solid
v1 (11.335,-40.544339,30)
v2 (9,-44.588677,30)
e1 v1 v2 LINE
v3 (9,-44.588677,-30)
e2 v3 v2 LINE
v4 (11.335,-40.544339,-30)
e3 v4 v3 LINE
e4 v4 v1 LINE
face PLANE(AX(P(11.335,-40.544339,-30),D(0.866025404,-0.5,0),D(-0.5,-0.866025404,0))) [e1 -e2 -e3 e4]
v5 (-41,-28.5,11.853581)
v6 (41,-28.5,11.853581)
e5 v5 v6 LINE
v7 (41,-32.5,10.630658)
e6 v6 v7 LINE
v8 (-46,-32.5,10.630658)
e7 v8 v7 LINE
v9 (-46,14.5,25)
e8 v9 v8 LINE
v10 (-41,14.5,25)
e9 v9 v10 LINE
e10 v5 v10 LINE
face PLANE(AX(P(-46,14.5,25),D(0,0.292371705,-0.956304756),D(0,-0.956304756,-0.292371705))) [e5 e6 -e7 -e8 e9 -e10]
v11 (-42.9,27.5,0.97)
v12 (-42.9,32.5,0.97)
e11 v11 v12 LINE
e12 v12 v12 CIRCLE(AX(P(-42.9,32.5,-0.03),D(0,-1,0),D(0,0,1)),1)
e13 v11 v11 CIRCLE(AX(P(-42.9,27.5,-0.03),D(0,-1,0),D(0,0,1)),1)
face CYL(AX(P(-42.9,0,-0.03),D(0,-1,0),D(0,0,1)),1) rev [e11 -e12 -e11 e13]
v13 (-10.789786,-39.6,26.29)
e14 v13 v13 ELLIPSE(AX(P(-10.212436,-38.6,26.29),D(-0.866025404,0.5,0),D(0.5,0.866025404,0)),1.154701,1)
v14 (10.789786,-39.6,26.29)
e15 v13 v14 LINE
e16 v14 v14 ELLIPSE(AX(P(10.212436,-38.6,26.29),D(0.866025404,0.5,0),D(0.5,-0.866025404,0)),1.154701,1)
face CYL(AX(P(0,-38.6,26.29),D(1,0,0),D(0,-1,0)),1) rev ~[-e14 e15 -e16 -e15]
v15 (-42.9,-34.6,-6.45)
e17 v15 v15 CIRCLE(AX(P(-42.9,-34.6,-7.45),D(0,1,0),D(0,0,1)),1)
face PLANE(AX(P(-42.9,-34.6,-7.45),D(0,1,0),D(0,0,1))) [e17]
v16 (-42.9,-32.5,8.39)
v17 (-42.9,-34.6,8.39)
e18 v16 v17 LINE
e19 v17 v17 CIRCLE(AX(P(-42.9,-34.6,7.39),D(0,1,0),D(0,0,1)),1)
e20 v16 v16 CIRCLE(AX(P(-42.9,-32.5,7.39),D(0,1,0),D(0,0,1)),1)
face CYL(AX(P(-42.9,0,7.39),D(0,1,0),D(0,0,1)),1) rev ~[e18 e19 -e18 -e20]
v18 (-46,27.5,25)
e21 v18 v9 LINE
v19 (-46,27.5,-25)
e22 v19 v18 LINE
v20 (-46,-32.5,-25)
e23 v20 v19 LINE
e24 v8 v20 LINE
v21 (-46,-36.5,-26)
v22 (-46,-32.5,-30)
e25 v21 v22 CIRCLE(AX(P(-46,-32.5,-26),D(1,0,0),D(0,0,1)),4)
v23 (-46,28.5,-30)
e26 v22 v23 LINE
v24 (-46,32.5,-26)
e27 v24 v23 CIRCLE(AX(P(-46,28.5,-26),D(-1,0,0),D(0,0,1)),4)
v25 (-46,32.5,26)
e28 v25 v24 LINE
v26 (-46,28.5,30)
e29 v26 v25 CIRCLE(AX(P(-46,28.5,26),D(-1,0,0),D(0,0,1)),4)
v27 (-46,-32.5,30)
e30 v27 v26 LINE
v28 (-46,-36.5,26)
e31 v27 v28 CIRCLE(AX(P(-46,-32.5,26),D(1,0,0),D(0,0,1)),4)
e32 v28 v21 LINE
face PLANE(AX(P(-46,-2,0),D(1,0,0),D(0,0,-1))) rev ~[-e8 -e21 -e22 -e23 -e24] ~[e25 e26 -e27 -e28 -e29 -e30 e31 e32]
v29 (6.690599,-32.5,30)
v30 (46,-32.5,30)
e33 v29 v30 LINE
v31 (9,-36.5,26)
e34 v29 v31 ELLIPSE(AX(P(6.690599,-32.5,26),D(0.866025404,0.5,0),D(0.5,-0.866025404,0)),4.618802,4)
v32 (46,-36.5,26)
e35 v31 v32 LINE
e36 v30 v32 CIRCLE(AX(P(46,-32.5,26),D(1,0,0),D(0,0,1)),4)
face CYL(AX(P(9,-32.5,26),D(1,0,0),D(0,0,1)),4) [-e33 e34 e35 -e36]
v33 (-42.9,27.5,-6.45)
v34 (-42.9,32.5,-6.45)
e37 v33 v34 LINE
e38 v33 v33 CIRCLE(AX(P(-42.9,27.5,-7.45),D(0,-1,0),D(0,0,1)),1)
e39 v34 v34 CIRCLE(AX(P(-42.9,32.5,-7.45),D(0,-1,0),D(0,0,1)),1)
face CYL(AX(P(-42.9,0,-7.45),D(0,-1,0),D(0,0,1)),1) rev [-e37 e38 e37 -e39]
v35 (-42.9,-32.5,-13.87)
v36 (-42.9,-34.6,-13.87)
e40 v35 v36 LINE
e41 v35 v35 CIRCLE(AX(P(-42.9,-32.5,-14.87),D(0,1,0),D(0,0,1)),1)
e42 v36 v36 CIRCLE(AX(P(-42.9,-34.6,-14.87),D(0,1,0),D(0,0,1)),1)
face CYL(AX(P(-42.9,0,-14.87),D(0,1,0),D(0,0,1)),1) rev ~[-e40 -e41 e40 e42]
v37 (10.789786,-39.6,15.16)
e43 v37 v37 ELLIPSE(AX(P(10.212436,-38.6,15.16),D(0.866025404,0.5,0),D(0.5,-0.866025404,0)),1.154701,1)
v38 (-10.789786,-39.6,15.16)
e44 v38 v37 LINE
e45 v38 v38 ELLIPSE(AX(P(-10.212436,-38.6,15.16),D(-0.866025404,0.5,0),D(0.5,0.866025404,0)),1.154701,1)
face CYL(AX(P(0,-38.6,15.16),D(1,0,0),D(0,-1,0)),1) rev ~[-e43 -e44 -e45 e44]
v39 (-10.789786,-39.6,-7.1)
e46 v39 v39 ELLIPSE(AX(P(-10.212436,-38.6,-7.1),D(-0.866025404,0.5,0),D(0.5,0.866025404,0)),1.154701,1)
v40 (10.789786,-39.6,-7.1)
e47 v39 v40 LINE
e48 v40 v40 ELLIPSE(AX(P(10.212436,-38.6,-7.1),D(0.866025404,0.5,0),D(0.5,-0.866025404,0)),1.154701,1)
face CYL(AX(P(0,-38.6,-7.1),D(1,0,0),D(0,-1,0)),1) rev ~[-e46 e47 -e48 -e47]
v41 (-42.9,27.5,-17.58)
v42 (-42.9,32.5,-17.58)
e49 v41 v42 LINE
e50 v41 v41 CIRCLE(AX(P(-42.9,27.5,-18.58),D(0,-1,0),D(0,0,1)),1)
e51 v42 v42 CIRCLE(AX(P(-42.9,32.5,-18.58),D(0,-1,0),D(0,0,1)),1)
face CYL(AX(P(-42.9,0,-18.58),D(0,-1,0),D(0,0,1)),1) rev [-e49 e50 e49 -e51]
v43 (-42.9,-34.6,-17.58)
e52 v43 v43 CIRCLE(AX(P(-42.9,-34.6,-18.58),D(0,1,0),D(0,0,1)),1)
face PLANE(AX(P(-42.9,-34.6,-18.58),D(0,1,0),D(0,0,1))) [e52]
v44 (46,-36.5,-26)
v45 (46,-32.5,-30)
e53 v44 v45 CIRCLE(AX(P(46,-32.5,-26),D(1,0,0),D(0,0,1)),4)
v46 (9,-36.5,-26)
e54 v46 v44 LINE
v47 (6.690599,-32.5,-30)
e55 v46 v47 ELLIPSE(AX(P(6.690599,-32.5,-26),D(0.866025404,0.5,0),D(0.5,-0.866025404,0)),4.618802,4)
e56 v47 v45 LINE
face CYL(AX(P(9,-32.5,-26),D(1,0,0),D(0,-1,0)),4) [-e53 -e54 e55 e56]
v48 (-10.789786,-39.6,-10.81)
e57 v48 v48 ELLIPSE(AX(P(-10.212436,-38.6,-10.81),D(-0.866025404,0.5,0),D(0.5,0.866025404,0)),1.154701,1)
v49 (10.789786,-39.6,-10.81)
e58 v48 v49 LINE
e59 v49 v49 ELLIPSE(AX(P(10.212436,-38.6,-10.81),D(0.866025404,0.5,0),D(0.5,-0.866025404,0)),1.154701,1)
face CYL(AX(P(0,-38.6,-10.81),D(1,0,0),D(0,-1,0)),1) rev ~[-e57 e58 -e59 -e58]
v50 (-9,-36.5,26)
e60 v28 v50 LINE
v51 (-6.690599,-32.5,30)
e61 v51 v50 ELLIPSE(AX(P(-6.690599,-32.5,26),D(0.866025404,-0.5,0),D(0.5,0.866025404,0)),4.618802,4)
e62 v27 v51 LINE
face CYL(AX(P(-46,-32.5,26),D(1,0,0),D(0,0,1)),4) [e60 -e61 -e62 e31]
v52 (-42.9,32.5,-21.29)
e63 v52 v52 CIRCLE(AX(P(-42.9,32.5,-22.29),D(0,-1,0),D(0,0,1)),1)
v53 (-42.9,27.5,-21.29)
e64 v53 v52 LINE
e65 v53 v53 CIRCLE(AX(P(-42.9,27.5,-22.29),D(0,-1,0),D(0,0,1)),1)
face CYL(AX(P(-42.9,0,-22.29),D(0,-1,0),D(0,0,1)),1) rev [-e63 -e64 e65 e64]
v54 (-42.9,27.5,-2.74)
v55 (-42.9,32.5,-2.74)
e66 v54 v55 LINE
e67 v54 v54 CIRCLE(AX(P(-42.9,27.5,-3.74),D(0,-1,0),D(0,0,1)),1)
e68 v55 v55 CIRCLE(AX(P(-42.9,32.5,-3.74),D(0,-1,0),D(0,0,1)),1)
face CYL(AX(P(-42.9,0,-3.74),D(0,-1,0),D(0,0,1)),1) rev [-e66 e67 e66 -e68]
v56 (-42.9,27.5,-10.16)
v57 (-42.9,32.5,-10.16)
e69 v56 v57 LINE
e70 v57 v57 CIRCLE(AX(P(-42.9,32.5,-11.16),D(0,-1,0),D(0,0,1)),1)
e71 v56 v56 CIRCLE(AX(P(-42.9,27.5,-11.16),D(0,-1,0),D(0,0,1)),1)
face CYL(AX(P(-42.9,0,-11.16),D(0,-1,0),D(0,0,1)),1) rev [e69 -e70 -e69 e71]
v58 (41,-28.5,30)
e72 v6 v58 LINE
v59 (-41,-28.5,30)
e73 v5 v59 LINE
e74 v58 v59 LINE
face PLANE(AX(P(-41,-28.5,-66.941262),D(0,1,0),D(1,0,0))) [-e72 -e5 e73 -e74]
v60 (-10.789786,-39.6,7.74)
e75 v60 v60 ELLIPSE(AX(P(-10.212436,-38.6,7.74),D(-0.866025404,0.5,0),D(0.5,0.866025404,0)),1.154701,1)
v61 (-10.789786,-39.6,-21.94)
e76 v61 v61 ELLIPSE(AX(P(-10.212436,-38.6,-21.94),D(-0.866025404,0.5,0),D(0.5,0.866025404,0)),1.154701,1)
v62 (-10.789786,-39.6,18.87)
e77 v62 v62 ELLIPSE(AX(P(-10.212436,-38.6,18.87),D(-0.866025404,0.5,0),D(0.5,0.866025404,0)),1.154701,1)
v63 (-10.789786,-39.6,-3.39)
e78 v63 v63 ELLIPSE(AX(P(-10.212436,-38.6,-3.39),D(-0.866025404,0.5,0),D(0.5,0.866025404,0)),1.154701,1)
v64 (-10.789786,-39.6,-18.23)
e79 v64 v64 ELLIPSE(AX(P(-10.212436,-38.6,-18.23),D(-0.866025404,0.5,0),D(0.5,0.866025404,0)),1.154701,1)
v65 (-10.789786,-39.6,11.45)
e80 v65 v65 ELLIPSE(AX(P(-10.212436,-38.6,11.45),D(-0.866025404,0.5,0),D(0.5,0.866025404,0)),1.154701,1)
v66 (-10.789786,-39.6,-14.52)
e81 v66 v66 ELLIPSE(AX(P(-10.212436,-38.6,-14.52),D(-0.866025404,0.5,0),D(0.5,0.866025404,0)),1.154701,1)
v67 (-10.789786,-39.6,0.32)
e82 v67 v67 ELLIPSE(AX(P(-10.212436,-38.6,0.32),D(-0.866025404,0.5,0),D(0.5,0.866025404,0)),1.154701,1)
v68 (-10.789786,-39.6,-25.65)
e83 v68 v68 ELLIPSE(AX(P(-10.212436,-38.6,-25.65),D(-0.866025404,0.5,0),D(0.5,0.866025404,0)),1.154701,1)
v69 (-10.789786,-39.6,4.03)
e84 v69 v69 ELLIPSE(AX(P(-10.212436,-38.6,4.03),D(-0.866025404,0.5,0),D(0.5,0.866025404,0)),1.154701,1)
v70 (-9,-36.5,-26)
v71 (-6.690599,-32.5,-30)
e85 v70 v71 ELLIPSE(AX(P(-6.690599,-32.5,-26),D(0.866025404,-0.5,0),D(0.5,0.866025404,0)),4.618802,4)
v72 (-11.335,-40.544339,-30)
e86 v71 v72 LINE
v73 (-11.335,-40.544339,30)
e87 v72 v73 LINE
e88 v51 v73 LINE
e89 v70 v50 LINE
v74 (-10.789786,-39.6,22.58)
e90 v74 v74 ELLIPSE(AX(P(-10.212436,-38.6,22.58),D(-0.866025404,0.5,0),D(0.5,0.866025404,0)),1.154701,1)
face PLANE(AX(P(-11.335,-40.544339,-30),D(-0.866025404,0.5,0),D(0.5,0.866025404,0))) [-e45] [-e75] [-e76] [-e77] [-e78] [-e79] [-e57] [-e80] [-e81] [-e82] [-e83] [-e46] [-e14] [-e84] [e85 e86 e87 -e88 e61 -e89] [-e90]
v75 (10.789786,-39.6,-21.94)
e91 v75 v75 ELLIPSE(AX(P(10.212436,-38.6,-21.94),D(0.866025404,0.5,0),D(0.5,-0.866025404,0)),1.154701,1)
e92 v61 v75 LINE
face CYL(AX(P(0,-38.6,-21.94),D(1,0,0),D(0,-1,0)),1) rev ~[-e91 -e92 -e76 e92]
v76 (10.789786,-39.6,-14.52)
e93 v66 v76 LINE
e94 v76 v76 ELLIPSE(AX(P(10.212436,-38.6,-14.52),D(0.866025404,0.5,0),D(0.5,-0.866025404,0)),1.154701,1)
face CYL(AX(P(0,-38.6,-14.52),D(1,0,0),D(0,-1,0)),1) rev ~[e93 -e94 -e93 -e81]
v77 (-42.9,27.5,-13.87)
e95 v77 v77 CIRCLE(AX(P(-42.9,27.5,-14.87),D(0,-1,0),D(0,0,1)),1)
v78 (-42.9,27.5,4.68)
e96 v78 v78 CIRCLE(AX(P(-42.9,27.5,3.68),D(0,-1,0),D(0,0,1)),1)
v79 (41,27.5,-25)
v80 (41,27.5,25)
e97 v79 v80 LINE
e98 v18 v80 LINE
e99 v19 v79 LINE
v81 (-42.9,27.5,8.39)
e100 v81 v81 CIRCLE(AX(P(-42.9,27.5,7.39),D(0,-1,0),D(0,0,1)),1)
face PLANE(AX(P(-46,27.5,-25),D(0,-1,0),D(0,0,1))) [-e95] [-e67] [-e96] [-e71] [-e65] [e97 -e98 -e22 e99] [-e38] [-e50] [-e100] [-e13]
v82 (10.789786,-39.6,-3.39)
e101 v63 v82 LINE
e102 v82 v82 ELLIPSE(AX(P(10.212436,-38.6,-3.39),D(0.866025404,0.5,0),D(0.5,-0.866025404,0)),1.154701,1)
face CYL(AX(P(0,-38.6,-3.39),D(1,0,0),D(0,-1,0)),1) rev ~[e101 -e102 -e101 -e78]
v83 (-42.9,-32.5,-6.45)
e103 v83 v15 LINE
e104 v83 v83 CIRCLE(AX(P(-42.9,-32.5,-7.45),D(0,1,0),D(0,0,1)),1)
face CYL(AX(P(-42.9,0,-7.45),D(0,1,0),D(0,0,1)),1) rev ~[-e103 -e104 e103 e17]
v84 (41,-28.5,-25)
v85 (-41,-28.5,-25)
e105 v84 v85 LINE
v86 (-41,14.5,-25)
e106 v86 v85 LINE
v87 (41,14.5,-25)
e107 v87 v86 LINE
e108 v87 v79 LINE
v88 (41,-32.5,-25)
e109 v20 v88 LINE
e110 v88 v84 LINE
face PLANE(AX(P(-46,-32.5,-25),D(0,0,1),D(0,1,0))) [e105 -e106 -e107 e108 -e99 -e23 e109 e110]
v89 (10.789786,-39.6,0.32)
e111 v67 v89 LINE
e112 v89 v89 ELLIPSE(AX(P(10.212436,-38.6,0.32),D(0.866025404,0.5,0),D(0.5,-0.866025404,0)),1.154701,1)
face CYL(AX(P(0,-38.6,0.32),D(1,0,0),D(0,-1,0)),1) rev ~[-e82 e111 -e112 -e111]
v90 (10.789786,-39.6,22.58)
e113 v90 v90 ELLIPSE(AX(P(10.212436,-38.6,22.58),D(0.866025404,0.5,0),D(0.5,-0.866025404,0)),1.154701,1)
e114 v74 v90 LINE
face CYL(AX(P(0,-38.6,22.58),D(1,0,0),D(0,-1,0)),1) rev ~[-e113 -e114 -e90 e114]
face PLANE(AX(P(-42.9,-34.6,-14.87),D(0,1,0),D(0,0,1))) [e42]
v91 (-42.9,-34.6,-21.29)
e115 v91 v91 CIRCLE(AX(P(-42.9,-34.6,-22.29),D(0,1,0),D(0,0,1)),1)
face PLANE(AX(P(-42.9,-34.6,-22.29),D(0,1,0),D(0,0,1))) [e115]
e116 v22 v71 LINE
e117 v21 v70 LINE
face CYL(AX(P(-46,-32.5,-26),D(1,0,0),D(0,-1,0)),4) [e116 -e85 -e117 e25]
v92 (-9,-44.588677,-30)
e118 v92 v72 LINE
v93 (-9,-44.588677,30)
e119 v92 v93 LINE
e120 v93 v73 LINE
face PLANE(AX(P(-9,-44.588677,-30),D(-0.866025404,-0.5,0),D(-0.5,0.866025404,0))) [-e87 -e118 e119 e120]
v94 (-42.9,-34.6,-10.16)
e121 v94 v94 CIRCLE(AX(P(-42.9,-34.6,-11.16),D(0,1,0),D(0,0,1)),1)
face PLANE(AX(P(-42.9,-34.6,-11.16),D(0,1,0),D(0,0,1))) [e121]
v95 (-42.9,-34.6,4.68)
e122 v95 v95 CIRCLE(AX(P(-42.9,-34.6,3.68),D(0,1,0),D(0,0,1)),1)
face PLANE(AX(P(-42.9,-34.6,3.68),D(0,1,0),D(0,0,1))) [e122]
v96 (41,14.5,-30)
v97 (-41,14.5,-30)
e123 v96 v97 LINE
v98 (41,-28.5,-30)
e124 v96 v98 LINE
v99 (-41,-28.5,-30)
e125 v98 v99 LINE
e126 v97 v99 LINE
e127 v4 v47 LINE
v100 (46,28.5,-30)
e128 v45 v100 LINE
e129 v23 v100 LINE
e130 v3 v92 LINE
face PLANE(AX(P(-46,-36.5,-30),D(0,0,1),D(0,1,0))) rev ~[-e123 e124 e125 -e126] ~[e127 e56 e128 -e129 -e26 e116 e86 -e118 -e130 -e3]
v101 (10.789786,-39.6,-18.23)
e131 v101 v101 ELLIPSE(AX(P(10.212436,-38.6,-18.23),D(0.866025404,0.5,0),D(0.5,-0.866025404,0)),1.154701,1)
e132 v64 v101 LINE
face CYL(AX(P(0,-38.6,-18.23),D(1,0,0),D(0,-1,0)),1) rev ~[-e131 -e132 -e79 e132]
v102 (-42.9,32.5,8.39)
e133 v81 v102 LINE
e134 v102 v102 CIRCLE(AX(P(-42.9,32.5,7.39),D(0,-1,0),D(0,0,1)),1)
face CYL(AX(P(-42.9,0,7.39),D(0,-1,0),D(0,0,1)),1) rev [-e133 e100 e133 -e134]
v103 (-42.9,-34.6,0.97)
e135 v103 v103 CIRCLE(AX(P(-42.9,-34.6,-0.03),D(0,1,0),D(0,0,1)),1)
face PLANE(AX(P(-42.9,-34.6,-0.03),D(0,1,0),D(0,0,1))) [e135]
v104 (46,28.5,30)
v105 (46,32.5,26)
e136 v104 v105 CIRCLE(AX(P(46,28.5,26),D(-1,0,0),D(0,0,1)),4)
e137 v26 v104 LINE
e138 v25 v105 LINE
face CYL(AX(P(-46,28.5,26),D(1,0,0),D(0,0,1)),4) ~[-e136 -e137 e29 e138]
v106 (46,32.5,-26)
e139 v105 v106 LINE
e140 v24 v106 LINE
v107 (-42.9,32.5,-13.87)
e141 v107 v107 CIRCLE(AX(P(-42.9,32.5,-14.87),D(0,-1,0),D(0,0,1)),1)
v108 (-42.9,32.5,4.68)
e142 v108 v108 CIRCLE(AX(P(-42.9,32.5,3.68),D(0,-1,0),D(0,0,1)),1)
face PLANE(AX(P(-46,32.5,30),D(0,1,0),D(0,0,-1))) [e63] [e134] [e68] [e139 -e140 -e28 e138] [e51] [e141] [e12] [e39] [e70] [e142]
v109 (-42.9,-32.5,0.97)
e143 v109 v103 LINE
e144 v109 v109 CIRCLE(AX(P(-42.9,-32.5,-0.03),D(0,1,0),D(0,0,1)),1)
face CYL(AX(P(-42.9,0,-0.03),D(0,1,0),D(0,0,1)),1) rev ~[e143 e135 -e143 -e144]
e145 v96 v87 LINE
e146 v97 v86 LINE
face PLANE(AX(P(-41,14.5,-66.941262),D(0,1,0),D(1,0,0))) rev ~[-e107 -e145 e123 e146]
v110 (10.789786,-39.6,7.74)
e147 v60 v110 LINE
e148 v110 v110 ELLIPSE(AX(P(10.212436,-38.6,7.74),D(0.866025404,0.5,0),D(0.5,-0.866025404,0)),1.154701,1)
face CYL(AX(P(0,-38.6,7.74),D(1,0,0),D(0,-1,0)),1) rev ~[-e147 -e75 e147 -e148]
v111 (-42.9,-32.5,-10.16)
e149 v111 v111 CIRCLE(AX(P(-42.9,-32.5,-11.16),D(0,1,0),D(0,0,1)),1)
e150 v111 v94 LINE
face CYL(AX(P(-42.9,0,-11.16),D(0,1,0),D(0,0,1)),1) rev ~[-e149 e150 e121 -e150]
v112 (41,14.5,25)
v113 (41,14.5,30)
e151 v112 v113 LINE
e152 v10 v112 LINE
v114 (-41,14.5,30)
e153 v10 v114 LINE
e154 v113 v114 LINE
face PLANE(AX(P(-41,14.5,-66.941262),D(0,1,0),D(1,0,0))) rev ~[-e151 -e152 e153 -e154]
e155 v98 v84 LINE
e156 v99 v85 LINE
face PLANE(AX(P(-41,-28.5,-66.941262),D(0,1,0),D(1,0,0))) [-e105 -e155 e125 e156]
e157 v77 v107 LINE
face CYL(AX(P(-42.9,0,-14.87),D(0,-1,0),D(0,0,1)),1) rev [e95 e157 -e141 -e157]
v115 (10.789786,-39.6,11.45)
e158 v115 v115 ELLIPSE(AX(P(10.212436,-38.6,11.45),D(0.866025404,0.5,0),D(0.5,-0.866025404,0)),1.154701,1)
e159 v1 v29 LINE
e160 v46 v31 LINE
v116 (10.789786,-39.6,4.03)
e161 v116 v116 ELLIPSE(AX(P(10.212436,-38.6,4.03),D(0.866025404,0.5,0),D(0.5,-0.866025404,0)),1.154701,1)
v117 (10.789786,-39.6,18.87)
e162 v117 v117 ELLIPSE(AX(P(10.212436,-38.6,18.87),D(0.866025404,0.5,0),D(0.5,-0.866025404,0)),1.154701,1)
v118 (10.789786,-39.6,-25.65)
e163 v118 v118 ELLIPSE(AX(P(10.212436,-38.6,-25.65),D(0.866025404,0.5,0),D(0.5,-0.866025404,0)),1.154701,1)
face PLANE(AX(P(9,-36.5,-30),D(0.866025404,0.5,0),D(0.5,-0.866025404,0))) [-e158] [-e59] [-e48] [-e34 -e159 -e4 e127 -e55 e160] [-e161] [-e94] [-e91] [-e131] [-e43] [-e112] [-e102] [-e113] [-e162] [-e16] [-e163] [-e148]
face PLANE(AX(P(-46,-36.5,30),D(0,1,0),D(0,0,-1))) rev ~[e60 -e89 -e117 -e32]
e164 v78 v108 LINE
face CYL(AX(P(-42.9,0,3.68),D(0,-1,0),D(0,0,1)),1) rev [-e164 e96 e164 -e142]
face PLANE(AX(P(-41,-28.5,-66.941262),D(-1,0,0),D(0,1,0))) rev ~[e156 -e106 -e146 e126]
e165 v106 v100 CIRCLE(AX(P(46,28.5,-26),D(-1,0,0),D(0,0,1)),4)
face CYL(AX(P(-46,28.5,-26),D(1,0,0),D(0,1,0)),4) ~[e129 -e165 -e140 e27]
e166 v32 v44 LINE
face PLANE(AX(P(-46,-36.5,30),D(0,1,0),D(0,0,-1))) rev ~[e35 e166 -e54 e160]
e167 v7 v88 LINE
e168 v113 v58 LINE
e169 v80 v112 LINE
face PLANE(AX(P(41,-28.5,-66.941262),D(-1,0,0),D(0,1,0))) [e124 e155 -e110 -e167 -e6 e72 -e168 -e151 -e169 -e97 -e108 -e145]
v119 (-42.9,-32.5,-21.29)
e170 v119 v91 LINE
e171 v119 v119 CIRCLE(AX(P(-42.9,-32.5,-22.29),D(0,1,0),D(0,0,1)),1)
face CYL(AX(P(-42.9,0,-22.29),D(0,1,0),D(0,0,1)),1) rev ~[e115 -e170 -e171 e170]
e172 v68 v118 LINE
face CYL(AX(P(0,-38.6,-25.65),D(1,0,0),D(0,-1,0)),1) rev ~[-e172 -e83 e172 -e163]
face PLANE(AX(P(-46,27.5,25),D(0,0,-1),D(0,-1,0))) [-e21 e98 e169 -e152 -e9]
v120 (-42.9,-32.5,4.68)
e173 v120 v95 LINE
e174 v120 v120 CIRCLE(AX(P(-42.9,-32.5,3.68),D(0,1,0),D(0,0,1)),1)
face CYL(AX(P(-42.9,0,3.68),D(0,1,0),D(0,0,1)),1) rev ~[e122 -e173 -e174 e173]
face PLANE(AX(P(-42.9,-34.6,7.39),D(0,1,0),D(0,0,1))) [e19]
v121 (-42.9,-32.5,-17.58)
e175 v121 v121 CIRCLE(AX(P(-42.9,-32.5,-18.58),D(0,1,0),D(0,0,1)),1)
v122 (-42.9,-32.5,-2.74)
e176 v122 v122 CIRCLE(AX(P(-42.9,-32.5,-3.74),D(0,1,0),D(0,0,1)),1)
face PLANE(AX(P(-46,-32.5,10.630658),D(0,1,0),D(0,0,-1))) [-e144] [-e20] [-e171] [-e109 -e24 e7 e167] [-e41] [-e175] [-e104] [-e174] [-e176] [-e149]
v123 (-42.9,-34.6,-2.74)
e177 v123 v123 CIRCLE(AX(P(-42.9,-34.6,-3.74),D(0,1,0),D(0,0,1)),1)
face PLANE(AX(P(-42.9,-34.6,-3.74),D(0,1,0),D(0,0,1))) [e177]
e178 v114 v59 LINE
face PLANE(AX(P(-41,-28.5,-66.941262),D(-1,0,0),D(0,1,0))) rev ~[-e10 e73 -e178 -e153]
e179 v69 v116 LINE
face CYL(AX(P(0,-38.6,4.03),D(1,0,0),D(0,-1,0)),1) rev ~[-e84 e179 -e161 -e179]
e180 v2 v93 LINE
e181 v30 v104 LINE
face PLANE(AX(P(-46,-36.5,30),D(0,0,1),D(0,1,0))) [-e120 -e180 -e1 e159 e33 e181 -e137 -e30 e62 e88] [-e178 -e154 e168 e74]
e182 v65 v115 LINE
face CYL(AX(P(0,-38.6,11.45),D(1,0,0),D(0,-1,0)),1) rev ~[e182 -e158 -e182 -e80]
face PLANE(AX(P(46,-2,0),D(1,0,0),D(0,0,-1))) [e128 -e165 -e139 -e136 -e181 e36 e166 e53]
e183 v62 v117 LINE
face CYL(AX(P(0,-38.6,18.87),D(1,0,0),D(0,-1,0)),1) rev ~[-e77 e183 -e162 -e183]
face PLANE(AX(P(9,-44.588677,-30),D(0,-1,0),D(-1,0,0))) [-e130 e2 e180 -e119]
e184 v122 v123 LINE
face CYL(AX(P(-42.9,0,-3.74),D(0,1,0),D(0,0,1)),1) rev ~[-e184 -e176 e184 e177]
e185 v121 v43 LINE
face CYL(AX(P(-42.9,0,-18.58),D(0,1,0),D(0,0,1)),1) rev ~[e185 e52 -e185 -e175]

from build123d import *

# Parameters (mm, degrees)
BASE_DEPTH               = 46
BASE_DEPTH_BACK          = 46
SKETCH4_W                = 60
SKETCH4_H                = 69
LIDAR_DEPTH              = 41
LIDAR_DEPTH_BACK         = 46
HOLEFRONTBACK_DEPTH      = 66.941261741
HOLEFRONTBACK_DEPTH_BACK = 66.941261741
SKETCH6_W                = 82
SKETCH6_H                = 43
RAIL_START               = -30
RAIL_DEPTH               = 60
SKETCH8_R                = 1
RAILHOLE_DEPTH           = 71.740017959
LPATTERN1_COUNT          = 15
LPATTERN1_PITCH          = 3.71
FILLET2_R                = 4
SAFETY_REACH             = 72.74
SKETCH9_R                = 1
SAFETY_DIRECTION_2_DEPTH = 34.6
LPATTERN2_COUNT          = 9
LPATTERN2_PITCH          = 3.71


with BuildPart() as part:
    # Sketch4 → Base (new, two sides: drawn at the far end of the back side and taken through both)
    with BuildSketch(Plane(origin=(0, 0, 0), x_dir=(0, 0, -1), z_dir=(1, 0, 0)).offset(-BASE_DEPTH_BACK)):
        with Locations((0, -2)):
            Rectangle(SKETCH4_W, SKETCH4_H)
    extrude(amount=BASE_DEPTH + BASE_DEPTH_BACK)

    # Sketch5 → LIDAR (cut, two sides: drawn at the far end of the back side and taken through both)
    with BuildSketch(Plane(origin=(0, 0, 0), x_dir=(0, 0, -1), z_dir=(1, 0, 0)).offset(-LIDAR_DEPTH_BACK)):
        Polygon((-25, 27.5), (-25, 14.5), (-10.630657971, -32.5), (25, -32.5), (25, 27.5), align=None)
    extrude(amount=LIDAR_DEPTH + LIDAR_DEPTH_BACK, mode=Mode.SUBTRACT)

    # Sketch6 → HoleFrontBack (cut, two sides: drawn at the far end of the back side and taken through both)
    with BuildSketch(Plane.XY.offset(-HOLEFRONTBACK_DEPTH_BACK)):
        with Locations((0, -7)):
            Rectangle(SKETCH6_W, SKETCH6_H)
    extrude(amount=HOLEFRONTBACK_DEPTH + HOLEFRONTBACK_DEPTH_BACK, mode=Mode.SUBTRACT)

    # Sketch7 → Rail (add)
    with BuildSketch(Plane.XY.offset(RAIL_START)):
        Polygon((-9, -36.5), (9, -36.5), (11.335, -40.544338636), (9, -44.588677271), (-9, -44.588677271), (-11.335, -40.544338636), align=None)
    extrude(amount=RAIL_DEPTH)

    # Sketch8 → RailHole (cut, symmetric)
    with BuildSketch(Plane(origin=(0, 0, 0), x_dir=(0, 0, -1), z_dir=(1, 0, 0))):
        with Locations(Location((-26.29, -38.6, 0), (0, 0, 270))):
            Circle(SKETCH8_R)
    railhole = extrude(amount=RAILHOLE_DEPTH, both=True, mode=Mode.SUBTRACT)

    # LPattern1: RailHole ×15
    with Locations(*[(0, 0, -i * LPATTERN1_PITCH) for i in range(1, LPATTERN1_COUNT)]):
        add(railhole, mode=Mode.SUBTRACT)

    # Fillet2
    fillet2_edges = [part.edges().sort_by_distance(p)[0] for p in [
        (27.5, -36.5, -30),
        (27.5, -36.5, 30),
        (0, 32.5, 30),
        (0, 32.5, -30),
        (-27.5, -36.5, -30),
        (-27.5, -36.5, 30),
    ]]
    fillet(fillet2_edges, radius=FILLET2_R)

    # Safety: up to this face of the body (flat: up to its plane)
    safety_end = Plane(part.part.faces().sort_by_distance((0, 32.5, 0))[0])
    # Sketch9 → Safety (cut, up to the picked face)
    with BuildSketch(Plane(origin=(0, 0, 0), x_dir=(1, 0, 0), z_dir=(0, 1, 0)), mode=Mode.PRIVATE) as safety_sk1:
        with Locations(Location((-42.9, 22.29, 0), (0, 0, 270))):
            Circle(SKETCH9_R)
    safety_tool1 = split(extrude(safety_sk1.sketch, amount=SAFETY_REACH, mode=Mode.PRIVATE), bisect_by=safety_end, keep=Keep.BOTH, mode=Mode.PRIVATE)
    safety = safety_tool1.solids().sort_by(Axis((-42.9, 0, -22.29), (0, 1, 0)))[0]
    add(safety, mode=Mode.SUBTRACT)

    # Sketch9 → Safety direction 2 (cut)
    with BuildSketch(Plane(origin=(0, 0, 0), x_dir=(1, 0, 0), z_dir=(0, 1, 0))):
        with Locations(Location((-42.9, 22.29, 0), (0, 0, 270))):
            Circle(SKETCH9_R)
    safety_direction_2 = extrude(amount=-SAFETY_DIRECTION_2_DEPTH, mode=Mode.SUBTRACT)

    # LPattern2: Safety, Safety direction 2 ×9
    with Locations(*[(0, 0, i * LPATTERN2_PITCH) for i in range(1, LPATTERN2_COUNT)]):
        add(safety, mode=Mode.SUBTRACT)
        add(safety_direction_2, mode=Mode.SUBTRACT)


solid = part.part
